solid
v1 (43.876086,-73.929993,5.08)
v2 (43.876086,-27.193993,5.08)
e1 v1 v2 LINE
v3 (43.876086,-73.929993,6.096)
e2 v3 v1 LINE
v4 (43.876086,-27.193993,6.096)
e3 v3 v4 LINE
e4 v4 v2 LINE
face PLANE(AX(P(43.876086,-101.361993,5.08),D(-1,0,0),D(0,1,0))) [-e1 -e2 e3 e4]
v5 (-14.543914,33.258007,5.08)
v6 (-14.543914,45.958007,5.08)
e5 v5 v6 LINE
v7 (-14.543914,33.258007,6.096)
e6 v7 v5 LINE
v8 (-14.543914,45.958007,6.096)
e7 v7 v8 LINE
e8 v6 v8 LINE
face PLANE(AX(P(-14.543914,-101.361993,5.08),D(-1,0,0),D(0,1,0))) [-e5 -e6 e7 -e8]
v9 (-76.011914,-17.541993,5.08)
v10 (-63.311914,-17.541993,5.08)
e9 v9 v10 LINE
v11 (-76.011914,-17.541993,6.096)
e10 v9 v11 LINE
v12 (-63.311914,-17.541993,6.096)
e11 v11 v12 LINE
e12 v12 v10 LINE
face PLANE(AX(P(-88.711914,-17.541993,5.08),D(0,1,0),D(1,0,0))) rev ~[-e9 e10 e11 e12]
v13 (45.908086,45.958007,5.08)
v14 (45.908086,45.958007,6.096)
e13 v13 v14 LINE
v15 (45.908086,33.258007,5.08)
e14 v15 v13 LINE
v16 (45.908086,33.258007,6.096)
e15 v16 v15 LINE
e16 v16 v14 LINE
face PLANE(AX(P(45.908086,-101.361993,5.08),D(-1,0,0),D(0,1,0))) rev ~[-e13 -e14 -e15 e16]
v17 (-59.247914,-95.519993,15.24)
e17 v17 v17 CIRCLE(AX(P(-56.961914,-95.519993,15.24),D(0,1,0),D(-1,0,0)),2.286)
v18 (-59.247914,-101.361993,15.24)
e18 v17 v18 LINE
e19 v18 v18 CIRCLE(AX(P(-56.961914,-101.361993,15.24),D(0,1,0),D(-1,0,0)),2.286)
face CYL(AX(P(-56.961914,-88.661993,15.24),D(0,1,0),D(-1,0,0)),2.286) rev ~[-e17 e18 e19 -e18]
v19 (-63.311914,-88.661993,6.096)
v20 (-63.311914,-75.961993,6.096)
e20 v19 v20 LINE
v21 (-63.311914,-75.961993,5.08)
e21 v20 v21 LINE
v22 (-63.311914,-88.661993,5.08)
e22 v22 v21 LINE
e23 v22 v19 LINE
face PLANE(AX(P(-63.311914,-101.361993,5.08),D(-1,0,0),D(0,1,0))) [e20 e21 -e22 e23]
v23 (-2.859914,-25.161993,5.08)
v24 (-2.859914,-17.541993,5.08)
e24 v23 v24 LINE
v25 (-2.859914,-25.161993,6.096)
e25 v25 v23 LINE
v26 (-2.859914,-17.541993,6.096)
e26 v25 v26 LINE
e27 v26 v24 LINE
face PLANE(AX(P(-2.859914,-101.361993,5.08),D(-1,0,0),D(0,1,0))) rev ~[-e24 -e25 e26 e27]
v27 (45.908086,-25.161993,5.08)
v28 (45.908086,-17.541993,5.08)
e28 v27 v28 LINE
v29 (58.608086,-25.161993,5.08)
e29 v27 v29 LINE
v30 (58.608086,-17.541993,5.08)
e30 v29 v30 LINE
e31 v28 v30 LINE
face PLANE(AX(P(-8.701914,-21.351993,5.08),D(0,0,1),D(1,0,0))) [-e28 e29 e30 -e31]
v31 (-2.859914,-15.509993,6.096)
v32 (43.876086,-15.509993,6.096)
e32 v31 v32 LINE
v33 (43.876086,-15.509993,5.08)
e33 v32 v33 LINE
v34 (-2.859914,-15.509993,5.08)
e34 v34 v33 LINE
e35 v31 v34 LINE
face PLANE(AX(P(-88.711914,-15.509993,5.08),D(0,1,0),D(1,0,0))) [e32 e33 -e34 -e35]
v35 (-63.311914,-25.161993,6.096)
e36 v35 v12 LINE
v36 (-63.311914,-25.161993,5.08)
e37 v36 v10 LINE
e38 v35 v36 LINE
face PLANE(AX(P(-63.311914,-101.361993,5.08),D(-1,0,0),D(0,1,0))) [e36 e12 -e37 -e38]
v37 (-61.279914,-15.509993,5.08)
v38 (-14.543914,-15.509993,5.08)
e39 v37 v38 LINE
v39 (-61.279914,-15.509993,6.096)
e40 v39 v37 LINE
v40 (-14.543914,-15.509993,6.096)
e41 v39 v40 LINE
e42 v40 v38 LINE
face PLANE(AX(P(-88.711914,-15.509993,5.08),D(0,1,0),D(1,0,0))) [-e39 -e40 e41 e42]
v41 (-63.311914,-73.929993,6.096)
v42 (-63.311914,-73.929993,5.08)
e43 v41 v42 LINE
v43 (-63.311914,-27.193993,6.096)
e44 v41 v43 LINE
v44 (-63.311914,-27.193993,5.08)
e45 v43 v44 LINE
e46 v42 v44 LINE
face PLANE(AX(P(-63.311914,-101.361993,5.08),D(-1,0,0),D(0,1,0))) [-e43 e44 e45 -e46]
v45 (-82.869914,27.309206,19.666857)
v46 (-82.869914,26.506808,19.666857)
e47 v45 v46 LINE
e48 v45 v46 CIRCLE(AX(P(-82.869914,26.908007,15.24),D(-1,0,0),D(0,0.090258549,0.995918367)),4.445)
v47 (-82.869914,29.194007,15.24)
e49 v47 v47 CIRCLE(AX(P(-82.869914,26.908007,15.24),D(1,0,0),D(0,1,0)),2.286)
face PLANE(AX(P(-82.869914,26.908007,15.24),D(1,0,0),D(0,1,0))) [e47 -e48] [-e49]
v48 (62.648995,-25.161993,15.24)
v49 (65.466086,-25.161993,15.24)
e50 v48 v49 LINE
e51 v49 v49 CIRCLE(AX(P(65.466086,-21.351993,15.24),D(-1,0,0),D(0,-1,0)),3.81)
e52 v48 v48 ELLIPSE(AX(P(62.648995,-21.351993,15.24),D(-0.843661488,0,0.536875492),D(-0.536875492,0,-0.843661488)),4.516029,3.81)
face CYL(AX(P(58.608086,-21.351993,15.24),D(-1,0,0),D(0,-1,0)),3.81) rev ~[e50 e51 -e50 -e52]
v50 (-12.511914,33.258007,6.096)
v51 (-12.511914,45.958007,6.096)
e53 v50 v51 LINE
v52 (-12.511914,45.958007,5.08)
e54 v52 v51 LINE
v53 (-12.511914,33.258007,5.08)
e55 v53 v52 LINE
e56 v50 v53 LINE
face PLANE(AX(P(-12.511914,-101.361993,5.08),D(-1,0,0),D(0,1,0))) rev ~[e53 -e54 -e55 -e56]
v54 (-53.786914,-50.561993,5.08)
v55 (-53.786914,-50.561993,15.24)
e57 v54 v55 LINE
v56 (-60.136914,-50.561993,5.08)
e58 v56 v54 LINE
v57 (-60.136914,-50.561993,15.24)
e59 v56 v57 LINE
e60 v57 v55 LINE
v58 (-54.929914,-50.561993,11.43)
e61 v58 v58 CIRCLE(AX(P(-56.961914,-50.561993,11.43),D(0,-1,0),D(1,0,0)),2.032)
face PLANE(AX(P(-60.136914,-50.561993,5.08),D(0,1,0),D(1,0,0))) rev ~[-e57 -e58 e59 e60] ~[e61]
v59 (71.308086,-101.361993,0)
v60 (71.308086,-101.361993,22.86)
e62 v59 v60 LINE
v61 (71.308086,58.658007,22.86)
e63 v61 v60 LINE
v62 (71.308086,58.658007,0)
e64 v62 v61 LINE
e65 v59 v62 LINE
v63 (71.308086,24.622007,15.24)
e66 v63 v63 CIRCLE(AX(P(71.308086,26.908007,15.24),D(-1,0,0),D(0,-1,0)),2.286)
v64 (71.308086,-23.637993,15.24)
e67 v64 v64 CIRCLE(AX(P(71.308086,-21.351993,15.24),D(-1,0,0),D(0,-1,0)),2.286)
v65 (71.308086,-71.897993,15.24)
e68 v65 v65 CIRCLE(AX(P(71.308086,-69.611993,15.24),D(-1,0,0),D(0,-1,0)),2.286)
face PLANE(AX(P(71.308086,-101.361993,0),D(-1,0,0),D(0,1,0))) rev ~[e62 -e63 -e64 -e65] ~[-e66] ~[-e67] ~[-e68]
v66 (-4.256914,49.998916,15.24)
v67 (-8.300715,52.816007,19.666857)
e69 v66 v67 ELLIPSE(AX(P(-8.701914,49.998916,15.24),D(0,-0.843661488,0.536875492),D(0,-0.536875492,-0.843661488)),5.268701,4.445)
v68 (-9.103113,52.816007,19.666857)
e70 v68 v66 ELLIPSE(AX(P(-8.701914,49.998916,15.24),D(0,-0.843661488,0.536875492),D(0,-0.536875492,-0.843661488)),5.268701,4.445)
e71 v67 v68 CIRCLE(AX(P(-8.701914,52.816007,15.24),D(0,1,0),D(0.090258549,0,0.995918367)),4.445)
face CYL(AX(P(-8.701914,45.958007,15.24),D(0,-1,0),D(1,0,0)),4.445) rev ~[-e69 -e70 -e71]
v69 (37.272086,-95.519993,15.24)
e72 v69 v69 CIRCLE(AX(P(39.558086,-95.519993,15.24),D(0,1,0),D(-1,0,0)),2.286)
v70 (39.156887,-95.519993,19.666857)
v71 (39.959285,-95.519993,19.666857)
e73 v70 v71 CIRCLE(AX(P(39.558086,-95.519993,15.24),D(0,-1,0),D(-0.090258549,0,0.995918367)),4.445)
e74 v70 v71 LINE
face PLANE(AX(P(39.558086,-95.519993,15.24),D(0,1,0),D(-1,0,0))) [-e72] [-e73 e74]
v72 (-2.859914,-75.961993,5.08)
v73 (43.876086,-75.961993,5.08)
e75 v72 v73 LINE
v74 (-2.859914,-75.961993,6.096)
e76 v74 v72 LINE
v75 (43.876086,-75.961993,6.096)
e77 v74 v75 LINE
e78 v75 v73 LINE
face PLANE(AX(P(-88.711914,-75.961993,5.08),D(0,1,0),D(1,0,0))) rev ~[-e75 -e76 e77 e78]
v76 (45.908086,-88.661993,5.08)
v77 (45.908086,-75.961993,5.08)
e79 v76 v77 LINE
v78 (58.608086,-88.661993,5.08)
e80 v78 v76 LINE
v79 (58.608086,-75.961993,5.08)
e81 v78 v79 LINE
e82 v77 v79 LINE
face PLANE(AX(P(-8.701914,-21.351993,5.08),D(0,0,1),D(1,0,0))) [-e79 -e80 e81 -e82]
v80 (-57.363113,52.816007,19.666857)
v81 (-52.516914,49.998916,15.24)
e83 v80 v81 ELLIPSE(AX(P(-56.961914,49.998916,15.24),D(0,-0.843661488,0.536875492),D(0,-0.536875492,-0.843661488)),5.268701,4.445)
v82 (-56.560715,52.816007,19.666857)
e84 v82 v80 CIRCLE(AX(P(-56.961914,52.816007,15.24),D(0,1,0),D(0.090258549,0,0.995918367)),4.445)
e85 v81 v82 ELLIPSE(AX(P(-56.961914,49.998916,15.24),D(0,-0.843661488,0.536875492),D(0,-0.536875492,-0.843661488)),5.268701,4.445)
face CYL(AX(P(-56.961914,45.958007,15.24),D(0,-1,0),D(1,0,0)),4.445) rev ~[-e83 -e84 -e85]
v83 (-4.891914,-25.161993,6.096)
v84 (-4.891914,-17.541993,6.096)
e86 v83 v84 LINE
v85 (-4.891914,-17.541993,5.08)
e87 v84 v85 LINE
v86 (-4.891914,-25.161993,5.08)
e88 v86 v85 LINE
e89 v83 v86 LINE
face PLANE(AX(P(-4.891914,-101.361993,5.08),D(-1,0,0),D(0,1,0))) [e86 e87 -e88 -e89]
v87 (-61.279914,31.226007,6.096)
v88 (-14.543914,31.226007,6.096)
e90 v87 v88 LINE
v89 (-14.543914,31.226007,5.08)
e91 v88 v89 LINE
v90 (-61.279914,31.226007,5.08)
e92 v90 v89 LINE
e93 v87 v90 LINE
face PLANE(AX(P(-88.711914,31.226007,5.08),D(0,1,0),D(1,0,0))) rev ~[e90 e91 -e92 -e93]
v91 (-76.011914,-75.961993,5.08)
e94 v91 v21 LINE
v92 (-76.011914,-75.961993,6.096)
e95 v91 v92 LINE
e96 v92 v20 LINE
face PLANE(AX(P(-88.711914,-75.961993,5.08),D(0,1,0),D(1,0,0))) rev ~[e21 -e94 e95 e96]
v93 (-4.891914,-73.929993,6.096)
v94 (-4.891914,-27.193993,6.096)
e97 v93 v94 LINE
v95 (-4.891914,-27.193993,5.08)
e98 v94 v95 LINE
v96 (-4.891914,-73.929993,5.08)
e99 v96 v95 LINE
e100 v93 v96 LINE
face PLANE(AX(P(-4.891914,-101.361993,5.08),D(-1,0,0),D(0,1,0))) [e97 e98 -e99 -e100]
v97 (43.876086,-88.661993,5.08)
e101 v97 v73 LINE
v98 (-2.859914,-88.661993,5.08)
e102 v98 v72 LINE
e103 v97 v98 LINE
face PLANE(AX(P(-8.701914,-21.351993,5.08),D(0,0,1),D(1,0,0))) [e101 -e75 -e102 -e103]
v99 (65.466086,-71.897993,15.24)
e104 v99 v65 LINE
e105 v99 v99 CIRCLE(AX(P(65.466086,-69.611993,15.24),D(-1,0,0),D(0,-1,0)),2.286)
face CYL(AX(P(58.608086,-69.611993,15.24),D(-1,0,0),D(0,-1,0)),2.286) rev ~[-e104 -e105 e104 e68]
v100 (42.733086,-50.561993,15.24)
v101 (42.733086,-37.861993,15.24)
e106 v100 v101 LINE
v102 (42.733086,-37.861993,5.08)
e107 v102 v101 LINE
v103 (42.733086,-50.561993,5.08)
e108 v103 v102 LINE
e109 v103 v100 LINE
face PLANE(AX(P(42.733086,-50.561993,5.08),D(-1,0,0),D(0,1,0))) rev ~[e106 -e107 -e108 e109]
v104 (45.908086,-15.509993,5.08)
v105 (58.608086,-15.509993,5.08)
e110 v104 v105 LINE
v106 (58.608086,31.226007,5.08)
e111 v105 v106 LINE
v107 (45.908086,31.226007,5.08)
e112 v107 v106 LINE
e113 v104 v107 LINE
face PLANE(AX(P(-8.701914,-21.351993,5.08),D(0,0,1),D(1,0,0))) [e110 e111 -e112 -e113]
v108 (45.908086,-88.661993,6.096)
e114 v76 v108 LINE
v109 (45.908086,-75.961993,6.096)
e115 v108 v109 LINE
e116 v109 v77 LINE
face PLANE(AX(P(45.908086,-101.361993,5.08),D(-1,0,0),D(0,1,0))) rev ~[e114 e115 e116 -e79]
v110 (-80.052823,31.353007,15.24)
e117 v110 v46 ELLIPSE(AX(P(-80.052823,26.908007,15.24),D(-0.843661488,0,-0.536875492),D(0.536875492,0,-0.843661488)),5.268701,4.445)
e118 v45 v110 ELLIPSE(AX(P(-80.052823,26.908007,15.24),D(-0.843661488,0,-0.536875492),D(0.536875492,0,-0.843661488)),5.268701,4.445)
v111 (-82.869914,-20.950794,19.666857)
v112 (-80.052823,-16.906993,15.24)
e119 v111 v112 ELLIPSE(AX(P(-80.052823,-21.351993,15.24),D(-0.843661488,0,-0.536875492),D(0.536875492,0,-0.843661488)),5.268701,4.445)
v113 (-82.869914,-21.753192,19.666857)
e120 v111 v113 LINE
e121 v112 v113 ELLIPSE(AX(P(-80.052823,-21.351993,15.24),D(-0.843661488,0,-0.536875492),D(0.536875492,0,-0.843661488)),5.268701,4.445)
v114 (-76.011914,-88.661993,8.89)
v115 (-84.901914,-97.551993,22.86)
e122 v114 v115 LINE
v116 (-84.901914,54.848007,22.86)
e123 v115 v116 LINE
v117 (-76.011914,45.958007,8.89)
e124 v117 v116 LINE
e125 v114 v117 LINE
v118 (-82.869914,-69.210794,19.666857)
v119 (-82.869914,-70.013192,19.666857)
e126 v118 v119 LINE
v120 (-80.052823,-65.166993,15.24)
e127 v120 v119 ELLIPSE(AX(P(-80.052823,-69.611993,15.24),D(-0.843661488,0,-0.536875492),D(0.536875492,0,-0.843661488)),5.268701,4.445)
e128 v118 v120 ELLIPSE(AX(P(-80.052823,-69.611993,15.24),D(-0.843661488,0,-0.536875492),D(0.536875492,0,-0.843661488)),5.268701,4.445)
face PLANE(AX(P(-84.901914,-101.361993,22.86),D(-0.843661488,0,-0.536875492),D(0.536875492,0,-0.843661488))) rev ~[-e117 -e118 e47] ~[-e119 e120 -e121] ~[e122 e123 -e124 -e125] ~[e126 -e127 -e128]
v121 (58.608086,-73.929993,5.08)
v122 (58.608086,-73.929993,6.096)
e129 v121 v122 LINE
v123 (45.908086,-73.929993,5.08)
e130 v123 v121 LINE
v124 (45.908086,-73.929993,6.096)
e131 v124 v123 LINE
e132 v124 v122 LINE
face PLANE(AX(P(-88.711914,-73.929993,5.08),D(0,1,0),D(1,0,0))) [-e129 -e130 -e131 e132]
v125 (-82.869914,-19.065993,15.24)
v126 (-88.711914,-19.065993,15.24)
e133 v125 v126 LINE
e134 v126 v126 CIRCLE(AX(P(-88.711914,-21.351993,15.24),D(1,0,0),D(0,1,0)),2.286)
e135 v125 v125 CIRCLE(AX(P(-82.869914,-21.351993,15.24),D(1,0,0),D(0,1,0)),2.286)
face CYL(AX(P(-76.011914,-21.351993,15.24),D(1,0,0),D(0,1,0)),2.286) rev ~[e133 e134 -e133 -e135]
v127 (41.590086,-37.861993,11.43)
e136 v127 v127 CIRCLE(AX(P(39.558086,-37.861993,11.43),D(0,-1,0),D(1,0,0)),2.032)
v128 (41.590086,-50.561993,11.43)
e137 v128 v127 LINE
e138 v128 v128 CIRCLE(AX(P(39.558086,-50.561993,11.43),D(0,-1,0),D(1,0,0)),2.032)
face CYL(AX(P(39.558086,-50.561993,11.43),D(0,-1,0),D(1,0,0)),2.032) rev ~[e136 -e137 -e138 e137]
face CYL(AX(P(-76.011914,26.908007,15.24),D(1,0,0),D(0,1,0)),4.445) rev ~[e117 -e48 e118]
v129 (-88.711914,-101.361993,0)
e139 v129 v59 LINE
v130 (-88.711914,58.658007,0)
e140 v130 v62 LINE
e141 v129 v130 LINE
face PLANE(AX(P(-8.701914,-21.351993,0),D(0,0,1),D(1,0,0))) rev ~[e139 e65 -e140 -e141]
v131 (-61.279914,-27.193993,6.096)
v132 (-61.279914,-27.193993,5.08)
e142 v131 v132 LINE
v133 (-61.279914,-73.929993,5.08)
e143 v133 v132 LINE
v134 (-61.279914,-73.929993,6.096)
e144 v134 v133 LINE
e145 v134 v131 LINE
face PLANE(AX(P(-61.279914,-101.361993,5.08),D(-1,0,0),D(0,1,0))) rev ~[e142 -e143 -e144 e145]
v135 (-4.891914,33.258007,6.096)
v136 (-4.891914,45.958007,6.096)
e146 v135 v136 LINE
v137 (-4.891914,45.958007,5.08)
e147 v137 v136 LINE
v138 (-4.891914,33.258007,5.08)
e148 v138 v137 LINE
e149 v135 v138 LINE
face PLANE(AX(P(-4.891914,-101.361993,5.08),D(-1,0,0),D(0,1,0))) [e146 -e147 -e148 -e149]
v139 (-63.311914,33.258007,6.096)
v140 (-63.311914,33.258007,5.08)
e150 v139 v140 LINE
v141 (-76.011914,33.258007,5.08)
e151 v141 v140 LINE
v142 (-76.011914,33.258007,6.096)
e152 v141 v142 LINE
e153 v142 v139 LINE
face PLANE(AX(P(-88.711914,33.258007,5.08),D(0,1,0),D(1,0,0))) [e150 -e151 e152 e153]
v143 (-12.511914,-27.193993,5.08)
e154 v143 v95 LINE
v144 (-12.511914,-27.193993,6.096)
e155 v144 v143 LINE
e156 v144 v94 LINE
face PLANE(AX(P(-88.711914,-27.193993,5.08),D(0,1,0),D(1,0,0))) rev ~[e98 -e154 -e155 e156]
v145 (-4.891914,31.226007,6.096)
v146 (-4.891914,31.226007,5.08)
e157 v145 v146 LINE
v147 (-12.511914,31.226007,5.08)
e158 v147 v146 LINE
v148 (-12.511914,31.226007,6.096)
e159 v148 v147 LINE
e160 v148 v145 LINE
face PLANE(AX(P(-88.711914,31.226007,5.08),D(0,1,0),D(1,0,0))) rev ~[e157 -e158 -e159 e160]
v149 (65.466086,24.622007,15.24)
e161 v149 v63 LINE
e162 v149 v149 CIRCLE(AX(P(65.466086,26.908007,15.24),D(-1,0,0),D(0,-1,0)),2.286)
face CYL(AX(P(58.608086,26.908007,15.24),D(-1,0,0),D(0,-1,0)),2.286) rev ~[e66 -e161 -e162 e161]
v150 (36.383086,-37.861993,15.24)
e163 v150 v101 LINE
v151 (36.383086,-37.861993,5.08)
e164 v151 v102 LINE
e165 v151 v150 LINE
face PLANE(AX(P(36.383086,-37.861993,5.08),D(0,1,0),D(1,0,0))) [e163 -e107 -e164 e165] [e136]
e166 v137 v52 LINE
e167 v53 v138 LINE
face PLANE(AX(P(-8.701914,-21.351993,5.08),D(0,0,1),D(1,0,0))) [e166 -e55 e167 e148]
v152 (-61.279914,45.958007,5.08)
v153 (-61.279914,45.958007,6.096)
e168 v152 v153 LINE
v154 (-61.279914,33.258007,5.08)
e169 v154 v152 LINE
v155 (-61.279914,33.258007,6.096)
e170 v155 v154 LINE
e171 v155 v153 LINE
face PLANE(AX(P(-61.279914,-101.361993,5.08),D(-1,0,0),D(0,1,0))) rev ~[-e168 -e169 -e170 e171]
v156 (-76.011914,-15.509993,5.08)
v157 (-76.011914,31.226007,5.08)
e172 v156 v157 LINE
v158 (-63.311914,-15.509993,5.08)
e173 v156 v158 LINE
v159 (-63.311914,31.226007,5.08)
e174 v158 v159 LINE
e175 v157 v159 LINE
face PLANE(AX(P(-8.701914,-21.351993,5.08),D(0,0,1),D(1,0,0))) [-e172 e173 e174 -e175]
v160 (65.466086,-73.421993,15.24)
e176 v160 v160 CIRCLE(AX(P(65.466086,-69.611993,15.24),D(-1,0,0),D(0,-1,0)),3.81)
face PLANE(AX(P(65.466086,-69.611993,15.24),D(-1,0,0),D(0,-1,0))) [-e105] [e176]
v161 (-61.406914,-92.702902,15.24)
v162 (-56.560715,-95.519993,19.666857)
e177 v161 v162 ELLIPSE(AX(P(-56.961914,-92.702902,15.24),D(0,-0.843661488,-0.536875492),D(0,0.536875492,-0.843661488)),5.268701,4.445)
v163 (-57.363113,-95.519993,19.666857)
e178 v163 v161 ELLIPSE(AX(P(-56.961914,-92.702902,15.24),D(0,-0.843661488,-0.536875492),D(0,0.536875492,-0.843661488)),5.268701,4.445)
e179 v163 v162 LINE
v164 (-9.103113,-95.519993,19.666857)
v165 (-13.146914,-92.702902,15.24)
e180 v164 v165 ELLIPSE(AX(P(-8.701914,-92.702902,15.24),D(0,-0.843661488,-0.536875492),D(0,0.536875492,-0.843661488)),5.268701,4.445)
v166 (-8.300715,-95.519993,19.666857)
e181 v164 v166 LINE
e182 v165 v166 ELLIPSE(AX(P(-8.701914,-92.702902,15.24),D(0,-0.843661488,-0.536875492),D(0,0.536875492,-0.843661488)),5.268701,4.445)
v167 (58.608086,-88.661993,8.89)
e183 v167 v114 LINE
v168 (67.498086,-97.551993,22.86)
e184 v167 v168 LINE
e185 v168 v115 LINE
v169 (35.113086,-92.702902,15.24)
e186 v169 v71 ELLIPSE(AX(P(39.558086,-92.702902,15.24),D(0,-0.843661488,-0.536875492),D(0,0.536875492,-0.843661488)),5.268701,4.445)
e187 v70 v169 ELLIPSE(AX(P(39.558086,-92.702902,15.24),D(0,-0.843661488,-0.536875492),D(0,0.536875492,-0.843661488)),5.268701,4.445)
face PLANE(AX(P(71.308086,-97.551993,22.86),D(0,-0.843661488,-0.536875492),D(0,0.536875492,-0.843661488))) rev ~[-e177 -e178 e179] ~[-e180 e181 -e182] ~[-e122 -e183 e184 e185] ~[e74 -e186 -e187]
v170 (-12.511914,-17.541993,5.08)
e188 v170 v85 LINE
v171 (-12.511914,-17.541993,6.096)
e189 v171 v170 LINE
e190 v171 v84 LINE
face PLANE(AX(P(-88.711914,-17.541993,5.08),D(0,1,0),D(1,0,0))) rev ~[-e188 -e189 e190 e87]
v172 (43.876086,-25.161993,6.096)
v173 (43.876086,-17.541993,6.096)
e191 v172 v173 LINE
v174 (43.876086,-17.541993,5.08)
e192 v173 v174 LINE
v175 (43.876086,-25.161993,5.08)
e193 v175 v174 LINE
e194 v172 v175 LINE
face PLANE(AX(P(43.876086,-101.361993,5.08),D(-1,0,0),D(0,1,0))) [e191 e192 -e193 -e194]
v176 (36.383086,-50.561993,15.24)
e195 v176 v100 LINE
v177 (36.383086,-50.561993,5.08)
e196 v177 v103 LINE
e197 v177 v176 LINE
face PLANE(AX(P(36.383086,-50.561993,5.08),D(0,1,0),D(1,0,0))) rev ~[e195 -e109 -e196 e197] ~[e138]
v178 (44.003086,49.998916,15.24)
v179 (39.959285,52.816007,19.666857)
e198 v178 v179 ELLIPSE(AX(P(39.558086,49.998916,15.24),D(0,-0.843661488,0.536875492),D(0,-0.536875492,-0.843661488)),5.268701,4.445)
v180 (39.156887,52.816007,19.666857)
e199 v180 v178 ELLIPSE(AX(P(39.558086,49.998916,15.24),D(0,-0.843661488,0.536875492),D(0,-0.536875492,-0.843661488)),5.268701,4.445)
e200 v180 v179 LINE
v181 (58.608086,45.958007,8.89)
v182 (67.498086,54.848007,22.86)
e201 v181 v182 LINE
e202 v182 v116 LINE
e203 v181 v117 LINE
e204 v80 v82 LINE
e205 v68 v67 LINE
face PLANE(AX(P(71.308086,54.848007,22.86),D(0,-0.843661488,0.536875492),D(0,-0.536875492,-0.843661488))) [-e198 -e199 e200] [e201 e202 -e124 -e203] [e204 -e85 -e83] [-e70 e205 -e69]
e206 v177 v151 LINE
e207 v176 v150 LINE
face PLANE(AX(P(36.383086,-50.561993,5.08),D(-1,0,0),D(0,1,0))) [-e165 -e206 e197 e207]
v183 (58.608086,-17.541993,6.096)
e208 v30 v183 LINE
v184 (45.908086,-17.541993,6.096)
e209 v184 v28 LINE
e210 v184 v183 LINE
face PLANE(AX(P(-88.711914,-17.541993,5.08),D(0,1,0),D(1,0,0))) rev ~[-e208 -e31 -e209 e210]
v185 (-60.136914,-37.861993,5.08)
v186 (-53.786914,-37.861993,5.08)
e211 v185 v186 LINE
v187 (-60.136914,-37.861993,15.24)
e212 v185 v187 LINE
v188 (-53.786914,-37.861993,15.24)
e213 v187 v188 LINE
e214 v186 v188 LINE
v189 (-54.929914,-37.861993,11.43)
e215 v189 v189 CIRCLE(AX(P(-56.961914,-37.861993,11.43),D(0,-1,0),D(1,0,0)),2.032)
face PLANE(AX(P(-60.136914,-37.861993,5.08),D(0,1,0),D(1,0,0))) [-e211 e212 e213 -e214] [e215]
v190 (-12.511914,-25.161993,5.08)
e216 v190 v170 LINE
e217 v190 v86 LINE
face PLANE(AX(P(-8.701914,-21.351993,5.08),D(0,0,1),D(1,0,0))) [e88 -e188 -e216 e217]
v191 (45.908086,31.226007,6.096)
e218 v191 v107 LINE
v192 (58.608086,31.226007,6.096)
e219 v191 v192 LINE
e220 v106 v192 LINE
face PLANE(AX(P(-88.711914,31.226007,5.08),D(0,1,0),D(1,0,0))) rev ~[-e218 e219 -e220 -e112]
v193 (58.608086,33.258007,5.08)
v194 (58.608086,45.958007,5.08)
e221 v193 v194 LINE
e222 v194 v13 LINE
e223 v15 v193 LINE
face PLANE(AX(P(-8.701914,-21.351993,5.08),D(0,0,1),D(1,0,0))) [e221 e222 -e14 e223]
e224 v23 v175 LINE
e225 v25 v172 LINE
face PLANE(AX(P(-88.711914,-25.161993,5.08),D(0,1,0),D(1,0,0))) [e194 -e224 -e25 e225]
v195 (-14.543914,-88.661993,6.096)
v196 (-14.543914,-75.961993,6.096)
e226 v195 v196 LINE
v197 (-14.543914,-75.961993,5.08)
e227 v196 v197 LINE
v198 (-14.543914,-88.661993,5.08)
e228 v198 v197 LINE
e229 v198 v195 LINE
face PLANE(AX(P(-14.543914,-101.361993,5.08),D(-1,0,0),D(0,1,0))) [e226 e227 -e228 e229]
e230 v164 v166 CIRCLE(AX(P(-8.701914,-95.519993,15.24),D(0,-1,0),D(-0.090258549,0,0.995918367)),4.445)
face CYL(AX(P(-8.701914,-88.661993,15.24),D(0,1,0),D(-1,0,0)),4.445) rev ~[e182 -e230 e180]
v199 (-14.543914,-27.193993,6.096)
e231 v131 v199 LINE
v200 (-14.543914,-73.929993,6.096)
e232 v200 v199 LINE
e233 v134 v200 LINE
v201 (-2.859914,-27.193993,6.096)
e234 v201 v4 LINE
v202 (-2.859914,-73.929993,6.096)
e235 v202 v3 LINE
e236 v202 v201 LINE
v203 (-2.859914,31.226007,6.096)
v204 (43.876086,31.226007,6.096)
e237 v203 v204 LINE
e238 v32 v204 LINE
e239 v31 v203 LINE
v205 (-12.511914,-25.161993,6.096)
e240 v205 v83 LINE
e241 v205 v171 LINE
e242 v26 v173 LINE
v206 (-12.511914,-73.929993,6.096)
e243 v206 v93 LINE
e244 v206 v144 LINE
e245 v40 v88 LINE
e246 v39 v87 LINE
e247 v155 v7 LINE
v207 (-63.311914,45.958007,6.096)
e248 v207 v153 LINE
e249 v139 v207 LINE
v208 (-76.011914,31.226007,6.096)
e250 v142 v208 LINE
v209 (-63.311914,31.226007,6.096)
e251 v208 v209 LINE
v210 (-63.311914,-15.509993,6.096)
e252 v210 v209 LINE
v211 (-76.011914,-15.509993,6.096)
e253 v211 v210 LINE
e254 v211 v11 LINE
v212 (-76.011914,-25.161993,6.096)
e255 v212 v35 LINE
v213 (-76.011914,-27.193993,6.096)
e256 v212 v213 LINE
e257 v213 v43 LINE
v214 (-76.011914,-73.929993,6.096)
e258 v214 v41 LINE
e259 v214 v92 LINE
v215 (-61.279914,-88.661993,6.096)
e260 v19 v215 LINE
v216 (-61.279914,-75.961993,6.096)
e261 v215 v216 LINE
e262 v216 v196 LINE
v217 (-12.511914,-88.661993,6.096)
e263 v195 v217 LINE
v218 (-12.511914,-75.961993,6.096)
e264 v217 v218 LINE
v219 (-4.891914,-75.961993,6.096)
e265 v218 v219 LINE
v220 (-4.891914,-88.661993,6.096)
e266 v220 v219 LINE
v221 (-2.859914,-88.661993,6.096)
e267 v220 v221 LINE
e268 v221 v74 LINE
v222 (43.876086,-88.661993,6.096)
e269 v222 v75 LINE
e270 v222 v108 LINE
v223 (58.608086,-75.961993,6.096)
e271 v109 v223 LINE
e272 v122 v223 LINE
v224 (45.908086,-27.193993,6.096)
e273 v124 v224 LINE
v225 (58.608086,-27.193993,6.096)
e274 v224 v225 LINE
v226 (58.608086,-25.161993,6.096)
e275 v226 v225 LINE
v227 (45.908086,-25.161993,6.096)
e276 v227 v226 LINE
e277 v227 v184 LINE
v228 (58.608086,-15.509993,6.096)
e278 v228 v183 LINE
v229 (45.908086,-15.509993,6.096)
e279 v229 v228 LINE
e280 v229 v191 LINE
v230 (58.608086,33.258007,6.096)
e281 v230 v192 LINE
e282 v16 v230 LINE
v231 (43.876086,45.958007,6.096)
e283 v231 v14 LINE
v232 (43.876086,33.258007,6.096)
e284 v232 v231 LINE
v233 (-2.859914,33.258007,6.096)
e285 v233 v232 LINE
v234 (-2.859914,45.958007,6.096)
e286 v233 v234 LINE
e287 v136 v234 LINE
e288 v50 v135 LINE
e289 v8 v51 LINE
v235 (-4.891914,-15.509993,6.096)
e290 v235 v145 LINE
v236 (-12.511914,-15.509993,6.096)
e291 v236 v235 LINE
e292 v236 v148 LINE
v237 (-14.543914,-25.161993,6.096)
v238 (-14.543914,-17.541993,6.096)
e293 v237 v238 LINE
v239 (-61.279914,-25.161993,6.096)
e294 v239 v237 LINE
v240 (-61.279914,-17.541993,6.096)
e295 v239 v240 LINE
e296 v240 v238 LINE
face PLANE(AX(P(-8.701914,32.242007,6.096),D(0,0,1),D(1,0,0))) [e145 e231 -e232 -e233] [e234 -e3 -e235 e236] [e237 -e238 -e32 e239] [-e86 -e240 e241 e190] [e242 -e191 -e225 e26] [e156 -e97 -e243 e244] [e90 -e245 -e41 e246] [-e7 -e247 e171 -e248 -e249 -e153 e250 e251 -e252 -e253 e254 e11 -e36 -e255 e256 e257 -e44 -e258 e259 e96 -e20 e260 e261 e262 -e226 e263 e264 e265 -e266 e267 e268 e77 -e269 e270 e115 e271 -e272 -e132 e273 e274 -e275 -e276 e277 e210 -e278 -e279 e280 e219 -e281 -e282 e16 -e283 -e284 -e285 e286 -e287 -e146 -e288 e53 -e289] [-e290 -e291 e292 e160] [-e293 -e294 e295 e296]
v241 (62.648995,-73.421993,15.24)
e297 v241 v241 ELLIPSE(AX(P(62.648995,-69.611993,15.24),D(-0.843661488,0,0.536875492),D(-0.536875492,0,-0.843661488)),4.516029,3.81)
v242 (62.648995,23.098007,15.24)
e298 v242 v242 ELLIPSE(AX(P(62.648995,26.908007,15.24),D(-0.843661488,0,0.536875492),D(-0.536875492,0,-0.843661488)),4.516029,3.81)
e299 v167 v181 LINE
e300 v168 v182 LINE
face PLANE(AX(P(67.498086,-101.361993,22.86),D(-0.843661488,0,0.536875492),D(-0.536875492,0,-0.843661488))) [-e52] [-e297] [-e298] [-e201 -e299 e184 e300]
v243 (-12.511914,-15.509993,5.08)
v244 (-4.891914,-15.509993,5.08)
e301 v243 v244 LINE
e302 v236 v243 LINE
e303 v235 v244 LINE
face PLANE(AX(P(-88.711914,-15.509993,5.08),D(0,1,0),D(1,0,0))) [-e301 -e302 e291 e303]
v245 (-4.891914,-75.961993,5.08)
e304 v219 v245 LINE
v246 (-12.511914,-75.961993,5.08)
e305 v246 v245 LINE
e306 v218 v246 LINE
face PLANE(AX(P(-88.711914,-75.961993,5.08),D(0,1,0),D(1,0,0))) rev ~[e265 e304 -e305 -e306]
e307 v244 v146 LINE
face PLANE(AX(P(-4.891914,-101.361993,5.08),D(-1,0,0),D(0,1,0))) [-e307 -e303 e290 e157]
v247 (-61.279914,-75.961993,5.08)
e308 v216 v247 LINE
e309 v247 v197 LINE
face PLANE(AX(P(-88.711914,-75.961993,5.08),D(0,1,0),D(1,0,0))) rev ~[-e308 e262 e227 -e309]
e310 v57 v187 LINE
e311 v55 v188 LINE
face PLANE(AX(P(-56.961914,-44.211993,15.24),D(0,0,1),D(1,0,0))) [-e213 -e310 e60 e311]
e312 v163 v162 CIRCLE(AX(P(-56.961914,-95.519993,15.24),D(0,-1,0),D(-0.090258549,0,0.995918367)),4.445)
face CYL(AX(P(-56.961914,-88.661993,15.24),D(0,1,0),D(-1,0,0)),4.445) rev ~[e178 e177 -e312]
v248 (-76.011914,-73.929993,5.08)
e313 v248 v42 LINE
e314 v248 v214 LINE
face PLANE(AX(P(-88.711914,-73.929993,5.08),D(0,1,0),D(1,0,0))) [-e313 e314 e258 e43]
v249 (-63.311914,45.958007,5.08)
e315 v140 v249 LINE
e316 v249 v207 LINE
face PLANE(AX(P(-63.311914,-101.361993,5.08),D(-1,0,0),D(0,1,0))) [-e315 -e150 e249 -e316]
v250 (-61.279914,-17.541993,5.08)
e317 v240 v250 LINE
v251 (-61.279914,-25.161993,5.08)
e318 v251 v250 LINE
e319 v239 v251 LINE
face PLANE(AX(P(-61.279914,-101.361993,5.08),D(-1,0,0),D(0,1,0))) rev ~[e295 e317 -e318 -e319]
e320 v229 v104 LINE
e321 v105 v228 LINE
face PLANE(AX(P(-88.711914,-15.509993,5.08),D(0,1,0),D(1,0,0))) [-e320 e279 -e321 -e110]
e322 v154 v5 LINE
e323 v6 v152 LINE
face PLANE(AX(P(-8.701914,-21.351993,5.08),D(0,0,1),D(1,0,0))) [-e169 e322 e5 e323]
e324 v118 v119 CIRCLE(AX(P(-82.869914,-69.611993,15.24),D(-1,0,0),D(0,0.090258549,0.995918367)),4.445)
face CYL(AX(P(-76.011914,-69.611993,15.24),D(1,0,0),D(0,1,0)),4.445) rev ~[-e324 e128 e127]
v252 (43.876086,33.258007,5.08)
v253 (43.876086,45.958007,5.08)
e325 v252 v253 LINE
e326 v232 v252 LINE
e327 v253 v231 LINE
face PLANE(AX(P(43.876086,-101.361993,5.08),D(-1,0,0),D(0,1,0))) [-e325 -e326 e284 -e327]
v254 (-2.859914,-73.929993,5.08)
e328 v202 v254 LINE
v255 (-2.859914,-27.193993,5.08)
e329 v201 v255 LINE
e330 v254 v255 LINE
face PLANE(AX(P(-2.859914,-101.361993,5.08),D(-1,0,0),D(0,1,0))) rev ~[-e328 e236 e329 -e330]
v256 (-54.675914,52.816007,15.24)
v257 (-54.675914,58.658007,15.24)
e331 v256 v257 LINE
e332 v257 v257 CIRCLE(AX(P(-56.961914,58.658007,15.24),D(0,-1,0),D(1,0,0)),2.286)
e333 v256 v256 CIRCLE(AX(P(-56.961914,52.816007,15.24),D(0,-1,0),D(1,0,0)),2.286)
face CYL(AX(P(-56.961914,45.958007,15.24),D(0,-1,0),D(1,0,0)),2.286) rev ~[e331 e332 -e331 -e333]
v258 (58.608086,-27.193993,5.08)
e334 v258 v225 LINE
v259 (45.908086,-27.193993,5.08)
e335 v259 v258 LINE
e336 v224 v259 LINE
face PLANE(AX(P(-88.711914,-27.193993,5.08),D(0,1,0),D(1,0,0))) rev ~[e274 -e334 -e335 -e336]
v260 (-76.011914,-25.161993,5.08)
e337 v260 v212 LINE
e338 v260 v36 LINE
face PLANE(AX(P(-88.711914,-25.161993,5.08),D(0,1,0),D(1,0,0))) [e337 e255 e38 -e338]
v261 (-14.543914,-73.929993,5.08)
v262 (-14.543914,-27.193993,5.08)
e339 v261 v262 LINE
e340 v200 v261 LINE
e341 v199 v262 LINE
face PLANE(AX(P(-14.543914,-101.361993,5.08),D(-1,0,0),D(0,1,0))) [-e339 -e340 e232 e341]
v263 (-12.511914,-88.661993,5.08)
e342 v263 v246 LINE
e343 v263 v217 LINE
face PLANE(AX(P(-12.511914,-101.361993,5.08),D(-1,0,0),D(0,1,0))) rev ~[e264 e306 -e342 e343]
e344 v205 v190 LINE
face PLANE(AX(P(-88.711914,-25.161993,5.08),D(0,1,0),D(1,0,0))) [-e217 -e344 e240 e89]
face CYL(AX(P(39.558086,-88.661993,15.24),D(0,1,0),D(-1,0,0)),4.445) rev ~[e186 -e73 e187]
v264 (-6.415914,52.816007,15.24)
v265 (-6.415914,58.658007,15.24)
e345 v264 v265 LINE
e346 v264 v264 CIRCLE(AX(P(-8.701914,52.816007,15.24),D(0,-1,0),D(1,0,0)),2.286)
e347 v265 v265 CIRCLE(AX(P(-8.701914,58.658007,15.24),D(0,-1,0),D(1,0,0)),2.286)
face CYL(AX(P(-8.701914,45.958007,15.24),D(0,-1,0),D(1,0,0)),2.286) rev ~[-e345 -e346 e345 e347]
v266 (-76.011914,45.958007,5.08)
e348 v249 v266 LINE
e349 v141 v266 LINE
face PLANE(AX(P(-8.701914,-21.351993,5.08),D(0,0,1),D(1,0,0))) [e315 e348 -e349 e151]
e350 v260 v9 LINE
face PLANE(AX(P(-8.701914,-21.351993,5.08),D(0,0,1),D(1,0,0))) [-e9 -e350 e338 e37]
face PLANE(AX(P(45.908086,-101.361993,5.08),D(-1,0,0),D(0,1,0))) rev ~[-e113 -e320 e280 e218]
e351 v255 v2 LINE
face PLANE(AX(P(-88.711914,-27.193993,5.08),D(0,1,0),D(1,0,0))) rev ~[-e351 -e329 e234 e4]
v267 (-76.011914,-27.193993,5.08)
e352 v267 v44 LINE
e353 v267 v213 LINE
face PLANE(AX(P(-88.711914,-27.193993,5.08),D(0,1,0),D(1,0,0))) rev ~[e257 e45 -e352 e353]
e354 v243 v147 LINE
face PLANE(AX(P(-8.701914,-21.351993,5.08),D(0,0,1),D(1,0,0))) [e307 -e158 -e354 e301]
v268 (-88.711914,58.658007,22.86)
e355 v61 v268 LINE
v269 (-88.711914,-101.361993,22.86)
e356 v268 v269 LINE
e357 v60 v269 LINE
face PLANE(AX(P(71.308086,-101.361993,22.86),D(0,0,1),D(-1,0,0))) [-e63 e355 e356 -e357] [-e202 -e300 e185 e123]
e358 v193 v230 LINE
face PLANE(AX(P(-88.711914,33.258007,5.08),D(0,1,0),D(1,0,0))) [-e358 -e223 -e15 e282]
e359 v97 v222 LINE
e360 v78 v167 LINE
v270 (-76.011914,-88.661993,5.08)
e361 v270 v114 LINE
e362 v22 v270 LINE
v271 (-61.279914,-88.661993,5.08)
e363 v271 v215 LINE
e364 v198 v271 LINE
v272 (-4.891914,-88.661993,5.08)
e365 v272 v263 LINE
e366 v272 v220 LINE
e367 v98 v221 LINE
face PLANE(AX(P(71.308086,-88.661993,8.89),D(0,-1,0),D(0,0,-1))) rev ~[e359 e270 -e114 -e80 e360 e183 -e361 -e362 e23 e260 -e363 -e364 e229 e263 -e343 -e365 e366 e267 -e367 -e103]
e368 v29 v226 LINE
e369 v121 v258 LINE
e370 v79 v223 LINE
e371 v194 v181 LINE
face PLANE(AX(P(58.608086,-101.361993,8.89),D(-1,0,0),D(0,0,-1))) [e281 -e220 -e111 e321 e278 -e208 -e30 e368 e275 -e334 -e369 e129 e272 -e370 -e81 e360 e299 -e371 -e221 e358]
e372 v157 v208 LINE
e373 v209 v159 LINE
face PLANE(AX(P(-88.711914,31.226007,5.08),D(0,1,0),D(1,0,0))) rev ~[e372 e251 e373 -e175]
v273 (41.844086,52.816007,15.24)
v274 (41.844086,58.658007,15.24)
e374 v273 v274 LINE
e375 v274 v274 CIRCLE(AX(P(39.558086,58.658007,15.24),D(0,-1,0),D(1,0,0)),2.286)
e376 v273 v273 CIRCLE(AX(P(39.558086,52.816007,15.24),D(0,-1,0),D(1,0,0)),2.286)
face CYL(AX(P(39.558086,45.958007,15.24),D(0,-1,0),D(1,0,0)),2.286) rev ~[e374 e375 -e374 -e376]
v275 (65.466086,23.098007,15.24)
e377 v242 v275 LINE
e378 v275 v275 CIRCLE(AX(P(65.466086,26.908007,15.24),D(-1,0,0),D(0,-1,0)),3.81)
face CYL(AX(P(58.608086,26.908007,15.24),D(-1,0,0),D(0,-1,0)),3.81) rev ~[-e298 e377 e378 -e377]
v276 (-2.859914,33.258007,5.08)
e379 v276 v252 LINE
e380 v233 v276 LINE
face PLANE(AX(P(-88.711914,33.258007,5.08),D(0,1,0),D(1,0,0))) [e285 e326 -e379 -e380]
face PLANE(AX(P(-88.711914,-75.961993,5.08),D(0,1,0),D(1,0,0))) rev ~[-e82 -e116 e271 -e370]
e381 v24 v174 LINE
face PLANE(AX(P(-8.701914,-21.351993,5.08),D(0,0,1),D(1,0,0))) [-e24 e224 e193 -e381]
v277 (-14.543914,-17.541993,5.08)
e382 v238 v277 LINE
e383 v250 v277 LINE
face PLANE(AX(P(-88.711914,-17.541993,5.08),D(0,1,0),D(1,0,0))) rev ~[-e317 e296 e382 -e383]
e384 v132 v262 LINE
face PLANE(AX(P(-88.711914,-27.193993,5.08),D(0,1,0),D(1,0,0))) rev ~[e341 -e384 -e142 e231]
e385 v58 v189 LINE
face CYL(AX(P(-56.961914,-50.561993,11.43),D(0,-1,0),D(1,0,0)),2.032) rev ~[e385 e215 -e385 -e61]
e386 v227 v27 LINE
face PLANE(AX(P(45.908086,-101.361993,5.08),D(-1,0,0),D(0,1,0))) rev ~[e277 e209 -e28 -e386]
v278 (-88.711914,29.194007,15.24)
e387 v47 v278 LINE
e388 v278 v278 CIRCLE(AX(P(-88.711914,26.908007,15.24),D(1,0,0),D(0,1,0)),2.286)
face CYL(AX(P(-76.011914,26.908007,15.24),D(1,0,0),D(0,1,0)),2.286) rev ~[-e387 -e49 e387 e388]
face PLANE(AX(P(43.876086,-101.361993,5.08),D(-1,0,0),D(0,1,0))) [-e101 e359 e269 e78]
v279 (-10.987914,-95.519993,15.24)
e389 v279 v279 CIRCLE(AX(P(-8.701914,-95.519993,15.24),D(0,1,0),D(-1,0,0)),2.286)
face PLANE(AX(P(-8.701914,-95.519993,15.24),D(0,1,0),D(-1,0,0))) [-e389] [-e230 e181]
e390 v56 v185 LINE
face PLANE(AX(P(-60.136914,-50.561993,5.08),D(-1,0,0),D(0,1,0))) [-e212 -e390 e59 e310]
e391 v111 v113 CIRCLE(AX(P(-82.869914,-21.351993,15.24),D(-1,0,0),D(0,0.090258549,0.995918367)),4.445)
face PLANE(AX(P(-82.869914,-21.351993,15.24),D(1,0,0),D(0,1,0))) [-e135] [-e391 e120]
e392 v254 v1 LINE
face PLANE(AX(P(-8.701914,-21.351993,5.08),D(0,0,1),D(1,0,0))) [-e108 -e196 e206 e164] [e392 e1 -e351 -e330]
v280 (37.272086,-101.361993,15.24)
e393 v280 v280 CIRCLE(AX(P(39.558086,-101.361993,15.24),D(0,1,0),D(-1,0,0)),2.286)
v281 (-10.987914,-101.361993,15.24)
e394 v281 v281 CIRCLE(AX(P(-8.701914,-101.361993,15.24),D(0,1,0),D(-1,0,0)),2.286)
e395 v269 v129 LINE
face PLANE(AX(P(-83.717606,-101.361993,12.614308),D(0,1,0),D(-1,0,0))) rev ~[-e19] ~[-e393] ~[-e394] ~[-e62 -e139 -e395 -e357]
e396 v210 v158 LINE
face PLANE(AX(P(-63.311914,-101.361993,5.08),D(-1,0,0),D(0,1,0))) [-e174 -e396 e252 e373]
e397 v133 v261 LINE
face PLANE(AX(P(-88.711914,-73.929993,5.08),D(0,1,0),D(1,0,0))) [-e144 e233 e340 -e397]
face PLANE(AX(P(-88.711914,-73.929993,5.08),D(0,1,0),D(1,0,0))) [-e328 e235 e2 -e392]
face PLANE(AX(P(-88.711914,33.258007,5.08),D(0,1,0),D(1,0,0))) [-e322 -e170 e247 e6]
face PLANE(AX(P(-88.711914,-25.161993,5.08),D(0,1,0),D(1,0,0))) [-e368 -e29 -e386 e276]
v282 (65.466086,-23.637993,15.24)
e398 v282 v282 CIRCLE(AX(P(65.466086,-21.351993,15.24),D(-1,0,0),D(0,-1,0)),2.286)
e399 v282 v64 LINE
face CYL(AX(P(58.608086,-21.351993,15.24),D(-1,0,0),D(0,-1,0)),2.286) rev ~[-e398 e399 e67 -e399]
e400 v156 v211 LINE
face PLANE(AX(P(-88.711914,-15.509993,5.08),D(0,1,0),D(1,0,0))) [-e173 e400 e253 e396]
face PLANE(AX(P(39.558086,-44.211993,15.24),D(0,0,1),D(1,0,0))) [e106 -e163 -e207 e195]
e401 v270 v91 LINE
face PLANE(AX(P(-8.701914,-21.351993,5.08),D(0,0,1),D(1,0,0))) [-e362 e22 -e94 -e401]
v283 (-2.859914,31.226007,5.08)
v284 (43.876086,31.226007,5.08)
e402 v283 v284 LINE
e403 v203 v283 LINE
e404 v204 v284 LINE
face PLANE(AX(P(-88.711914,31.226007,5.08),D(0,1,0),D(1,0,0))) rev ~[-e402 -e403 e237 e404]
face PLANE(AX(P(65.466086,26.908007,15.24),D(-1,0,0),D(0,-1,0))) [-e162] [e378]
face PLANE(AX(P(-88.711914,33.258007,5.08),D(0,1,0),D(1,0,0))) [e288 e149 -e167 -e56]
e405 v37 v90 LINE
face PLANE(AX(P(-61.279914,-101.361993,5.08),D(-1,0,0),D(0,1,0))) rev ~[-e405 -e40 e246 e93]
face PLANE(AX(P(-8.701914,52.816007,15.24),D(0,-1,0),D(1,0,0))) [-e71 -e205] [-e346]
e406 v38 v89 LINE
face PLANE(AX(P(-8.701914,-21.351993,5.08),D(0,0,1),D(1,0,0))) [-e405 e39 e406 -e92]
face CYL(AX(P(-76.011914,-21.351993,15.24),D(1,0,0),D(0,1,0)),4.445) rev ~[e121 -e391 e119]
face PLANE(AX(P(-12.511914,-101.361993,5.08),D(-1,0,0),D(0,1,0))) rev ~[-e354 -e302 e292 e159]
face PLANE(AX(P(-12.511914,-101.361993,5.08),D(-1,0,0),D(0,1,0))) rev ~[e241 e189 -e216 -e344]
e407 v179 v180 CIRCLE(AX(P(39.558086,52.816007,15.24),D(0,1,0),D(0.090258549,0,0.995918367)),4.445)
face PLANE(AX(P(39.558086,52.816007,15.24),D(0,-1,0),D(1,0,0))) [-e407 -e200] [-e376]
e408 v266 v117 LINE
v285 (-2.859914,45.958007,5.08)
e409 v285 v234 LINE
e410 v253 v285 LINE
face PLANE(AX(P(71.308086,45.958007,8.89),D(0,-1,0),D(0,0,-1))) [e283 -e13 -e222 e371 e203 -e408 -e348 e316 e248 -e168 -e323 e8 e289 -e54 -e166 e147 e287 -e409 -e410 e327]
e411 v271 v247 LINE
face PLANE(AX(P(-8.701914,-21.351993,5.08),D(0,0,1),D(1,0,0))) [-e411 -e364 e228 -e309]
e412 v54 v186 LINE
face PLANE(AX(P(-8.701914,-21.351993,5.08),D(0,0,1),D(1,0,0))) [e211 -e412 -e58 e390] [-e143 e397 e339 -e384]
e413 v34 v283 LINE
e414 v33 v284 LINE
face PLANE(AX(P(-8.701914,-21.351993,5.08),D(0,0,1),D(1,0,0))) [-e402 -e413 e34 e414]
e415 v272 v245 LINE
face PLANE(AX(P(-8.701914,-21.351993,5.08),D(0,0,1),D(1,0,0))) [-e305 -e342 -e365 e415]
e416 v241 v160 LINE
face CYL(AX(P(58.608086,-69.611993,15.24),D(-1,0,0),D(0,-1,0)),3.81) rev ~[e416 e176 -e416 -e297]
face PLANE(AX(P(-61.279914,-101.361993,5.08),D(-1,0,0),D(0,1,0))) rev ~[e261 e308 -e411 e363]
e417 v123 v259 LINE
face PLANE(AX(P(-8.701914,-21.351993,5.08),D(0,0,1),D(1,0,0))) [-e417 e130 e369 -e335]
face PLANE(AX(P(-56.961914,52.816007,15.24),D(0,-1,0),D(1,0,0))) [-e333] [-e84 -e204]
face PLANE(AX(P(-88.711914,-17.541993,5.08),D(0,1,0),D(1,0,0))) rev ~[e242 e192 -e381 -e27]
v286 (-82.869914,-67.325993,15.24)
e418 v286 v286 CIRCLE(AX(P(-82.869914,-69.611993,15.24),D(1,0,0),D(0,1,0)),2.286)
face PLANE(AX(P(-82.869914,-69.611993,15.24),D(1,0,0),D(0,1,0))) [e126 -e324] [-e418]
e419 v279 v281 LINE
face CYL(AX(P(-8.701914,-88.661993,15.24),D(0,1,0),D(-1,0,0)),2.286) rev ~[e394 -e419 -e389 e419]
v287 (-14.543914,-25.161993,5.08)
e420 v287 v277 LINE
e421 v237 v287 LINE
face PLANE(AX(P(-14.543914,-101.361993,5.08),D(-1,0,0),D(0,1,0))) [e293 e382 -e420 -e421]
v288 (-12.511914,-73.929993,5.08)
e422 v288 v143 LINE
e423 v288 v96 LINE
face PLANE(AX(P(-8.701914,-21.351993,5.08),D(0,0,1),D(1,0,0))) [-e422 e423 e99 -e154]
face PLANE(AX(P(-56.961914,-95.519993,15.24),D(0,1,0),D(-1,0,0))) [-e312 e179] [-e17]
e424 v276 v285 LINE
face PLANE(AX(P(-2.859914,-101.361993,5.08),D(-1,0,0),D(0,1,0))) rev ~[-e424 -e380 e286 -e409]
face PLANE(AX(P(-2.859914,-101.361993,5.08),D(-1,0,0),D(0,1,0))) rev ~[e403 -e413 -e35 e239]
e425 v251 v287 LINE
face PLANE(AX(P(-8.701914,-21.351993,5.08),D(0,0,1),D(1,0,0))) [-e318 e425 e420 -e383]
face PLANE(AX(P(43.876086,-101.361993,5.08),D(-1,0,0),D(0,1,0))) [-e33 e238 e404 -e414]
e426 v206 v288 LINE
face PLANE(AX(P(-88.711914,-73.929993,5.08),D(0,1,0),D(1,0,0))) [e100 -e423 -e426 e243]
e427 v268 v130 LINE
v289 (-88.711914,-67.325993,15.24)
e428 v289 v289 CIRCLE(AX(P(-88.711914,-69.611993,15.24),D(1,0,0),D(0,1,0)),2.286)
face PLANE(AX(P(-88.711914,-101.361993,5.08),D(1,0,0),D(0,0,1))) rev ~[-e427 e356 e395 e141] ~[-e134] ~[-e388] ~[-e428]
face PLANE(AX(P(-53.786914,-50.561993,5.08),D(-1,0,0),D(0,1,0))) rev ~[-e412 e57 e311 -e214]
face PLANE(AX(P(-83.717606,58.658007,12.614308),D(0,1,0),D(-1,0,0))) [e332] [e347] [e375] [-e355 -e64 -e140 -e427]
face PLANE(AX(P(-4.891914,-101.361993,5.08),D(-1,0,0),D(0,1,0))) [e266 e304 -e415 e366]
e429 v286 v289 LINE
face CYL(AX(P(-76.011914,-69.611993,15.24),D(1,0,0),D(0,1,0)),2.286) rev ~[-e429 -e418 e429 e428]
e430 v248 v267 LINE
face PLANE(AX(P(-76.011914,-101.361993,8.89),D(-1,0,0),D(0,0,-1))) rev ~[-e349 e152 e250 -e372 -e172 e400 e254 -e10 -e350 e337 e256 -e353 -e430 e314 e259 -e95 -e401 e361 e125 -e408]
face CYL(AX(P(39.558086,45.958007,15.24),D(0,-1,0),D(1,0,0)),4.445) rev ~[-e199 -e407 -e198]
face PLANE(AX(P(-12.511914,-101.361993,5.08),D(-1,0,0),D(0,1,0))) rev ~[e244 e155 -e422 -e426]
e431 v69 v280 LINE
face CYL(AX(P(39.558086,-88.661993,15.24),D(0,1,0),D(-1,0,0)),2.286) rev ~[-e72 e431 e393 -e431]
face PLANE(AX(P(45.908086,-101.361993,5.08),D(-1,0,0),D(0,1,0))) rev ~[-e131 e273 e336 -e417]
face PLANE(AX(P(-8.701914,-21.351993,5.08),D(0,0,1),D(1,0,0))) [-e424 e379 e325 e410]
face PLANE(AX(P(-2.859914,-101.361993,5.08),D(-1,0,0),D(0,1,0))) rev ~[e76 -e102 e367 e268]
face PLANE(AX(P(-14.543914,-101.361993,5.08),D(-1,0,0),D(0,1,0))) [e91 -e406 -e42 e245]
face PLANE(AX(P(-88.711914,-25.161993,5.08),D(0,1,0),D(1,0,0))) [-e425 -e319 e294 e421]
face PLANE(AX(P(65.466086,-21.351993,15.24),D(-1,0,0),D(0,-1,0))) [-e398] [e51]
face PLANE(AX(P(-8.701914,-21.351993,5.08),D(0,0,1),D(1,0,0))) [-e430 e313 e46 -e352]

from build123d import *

# Parameters (mm, degrees)
SKETCH_W        = 160.02
SKETCH_H        = 160.02
PAD_DEPTH       = 5.08
SKETCH001_W     = 2.032
SKETCH001_H     = 160.02
PAD001_DEPTH    = 1.016
SKETCH002_W     = 160.02
SKETCH002_H     = 2.032
PAD002_DEPTH    = 1.016
SKETCH003_W     = 6.35
SKETCH003_H     = 12.7
PAD003_DEPTH    = 10.16
SKETCH004_R     = 2.032
POCKET_DEPTH    = 12.7
PAD004_DEPTH    = 160.02
PAD005_DEPTH    = 160.02
SKETCH007_R     = 4.445
POCKET001_DEPTH = 6.858
SKETCH008_R     = 2.286
POCKET002_DEPTH = 12.7
SKETCH009_R     = 4.445
POCKET003_DEPTH = 6.858
SKETCH010_R     = 2.286
POCKET004_DEPTH = 12.7
SKETCH011_R     = 4.445
POCKET005_DEPTH = 6.858
SKETCH012_R     = 3.81
POCKET006_DEPTH = 6.858
SKETCH013_R     = 2.286
POCKET007_DEPTH = 12.7
SKETCH014_R     = 2.286
POCKET008_DEPTH = 12.7


with BuildPart() as part:
    # Sketch → Pad (new body)
    with BuildSketch(Plane.XY):
        with Locations((-8.701914, -21.351993)):
            Rectangle(SKETCH_W, SKETCH_H)
    extrude(amount=PAD_DEPTH)

    # Sketch001 (on Face6 of Pad) → Pad001 (join)
    with BuildSketch(Plane.XY.offset(5.08)):
        with Locations((-62.295914, -21.351993)):
            Rectangle(SKETCH001_W, SKETCH001_H)
        with Locations((44.892086, -21.351993)):
            Rectangle(SKETCH001_W, SKETCH001_H)
        with Locations((-13.527914, -21.351993)):
            Rectangle(SKETCH001_W, SKETCH001_H)
        with Locations((-3.875914, -21.351993)):
            Rectangle(SKETCH001_W, SKETCH001_H)
    extrude(amount=PAD001_DEPTH)

    # Sketch002 (on Face9 of Pad001) → Pad002 (join)
    with BuildSketch(Plane.XY.offset(5.08)):
        with Locations((-8.701914, 32.242007)):
            Rectangle(SKETCH002_W, SKETCH002_H)
        with Locations((-8.701914, -16.525993)):
            Rectangle(SKETCH002_W, SKETCH002_H)
        with Locations((-8.701914, -26.177993)):
            Rectangle(SKETCH002_W, SKETCH002_H)
        with Locations((-8.701914, -74.945993)):
            Rectangle(SKETCH002_W, SKETCH002_H)
    extrude(amount=PAD002_DEPTH)

    # Sketch003 (on Face164 of Pad002) → Pad003 (join)
    with BuildSketch(Plane.XY.offset(5.08)):
        with Locations((-56.961914, -44.211993)):
            Rectangle(SKETCH003_W, SKETCH003_H)
        with Locations((39.558086, -44.211993)):
            Rectangle(SKETCH003_W, SKETCH003_H)
    extrude(amount=PAD003_DEPTH)

    # Sketch004 (on Face174 of Pad003) → Pocket (cut)
    with BuildSketch(Plane.XZ.offset(50.561993)):
        with Locations((39.558086, 11.43)):
            Circle(SKETCH004_R)
        with Locations((-56.961914, 11.43)):
            Circle(SKETCH004_R)
    extrude(amount=-POCKET_DEPTH, mode=Mode.SUBTRACT)

    # Sketch005 (on Face14 of Pocket) → Pad004 (join)
    with BuildSketch(Plane.XZ.offset(101.361993)):
        Polygon((-88.711914, 5.08), (-88.711914, 22.86), (-84.901914, 22.86), (-76.011914, 8.89), (-76.011914, 5.08), align=None)
        Polygon((71.308086, 22.86), (67.498086, 22.86), (58.608086, 8.89), (58.608086, 5.08), (71.308086, 5.08), align=None)
    extrude(amount=-PAD004_DEPTH)

    # Sketch006 (on Face3 of Pad004) → Pad005 (join)
    with BuildSketch(Plane.YZ.offset(71.308086)):
        Polygon((-101.361993, 5.08), (-101.361993, 22.86), (-97.551993, 22.86), (-88.661993, 8.89), (-88.661993, 5.08), align=None)
        Polygon((58.658007, 5.08), (58.658007, 22.86), (54.848007, 22.86), (45.958007, 8.89), (45.958007, 5.08), align=None)
    extrude(amount=-PAD005_DEPTH)

    # Sketch007 (on Face66 of Pad005) → Pocket001 (cut)
    with BuildSketch(Plane(origin=(0, -88.661993, 0), x_dir=(-1, 0, 0), z_dir=(0, 1, 0))):
        with Locations((-39.558086, 15.24)):
            Circle(SKETCH007_R)
        with Locations((56.961914, 15.24)):
            Circle(SKETCH007_R)
        with Locations((8.701914, 15.24)):
            Circle(SKETCH007_R)
    extrude(amount=-POCKET001_DEPTH, mode=Mode.SUBTRACT)

    # Sketch008 (on Face66 of Pad005) → Pocket002 (cut)
    with BuildSketch(Plane(origin=(0, -88.661993, 0), x_dir=(-1, 0, 0), z_dir=(0, 1, 0))):
        with Locations((-39.558086, 15.24)):
            Circle(SKETCH008_R)
        with Locations((56.961914, 15.24)):
            Circle(SKETCH008_R)
        with Locations((8.701914, 15.24)):
            Circle(SKETCH008_R)
    extrude(amount=-POCKET002_DEPTH, mode=Mode.SUBTRACT)

    # Sketch009 (on Face53 of Pocket002) → Pocket003 (cut)
    with BuildSketch(Plane.YZ.offset(-76.011914)):
        with Locations((-69.611993, 15.24)):
            Circle(SKETCH009_R)
        with Locations((-21.351993, 15.24)):
            Circle(SKETCH009_R)
        with Locations((26.908007, 15.24)):
            Circle(SKETCH009_R)
    extrude(amount=-POCKET003_DEPTH, mode=Mode.SUBTRACT)

    # Sketch010 (on Face53 of Pocket003) → Pocket004 (cut)
    with BuildSketch(Plane.YZ.offset(-76.011914)):
        with Locations((-69.611993, 15.24)):
            Circle(SKETCH010_R)
        with Locations((-21.351993, 15.24)):
            Circle(SKETCH010_R)
        with Locations((26.908007, 15.24)):
            Circle(SKETCH010_R)
    extrude(amount=-POCKET004_DEPTH, mode=Mode.SUBTRACT)

    # Sketch011 (on Face54 of Pocket004) → Pocket005 (cut)
    with BuildSketch(Plane.XZ.offset(-45.958007)):
        with Locations((-56.961914, 15.24)):
            Circle(SKETCH011_R)
        with Locations((-8.701914, 15.24)):
            Circle(SKETCH011_R)
        with Locations((39.558086, 15.24)):
            Circle(SKETCH011_R)
    extrude(amount=-POCKET005_DEPTH, mode=Mode.SUBTRACT)

    # Sketch012 (on Face75 of Pocket005) → Pocket006 (cut)
    with BuildSketch(Plane(origin=(58.608086, 0, 0), x_dir=(0, -1, 0), z_dir=(-1, 0, 0))):
        with Locations((-26.908007, 15.24)):
            Circle(SKETCH012_R)
        with Locations((21.351993, 15.24)):
            Circle(SKETCH012_R)
        with Locations((69.611993, 15.24)):
            Circle(SKETCH012_R)
    extrude(amount=-POCKET006_DEPTH, mode=Mode.SUBTRACT)

    # Sketch013 (on Face75 of Pocket005) → Pocket007 (cut)
    with BuildSketch(Plane(origin=(58.608086, 0, 0), x_dir=(0, -1, 0), z_dir=(-1, 0, 0))):
        with Locations((-26.908007, 15.24)):
            Circle(SKETCH013_R)
        with Locations((21.351993, 15.24)):
            Circle(SKETCH013_R)
        with Locations((69.611993, 15.24)):
            Circle(SKETCH013_R)
    extrude(amount=-POCKET007_DEPTH, mode=Mode.SUBTRACT)

    # Sketch014 (on Face54 of Pocket004) → Pocket008 (cut)
    with BuildSketch(Plane.XZ.offset(-45.958007)):
        with Locations((-56.961914, 15.24)):
            Circle(SKETCH014_R)
        with Locations((-8.701914, 15.24)):
            Circle(SKETCH014_R)
        with Locations((39.558086, 15.24)):
            Circle(SKETCH014_R)
    extrude(amount=-POCKET008_DEPTH, mode=Mode.SUBTRACT)


solid = part.part
